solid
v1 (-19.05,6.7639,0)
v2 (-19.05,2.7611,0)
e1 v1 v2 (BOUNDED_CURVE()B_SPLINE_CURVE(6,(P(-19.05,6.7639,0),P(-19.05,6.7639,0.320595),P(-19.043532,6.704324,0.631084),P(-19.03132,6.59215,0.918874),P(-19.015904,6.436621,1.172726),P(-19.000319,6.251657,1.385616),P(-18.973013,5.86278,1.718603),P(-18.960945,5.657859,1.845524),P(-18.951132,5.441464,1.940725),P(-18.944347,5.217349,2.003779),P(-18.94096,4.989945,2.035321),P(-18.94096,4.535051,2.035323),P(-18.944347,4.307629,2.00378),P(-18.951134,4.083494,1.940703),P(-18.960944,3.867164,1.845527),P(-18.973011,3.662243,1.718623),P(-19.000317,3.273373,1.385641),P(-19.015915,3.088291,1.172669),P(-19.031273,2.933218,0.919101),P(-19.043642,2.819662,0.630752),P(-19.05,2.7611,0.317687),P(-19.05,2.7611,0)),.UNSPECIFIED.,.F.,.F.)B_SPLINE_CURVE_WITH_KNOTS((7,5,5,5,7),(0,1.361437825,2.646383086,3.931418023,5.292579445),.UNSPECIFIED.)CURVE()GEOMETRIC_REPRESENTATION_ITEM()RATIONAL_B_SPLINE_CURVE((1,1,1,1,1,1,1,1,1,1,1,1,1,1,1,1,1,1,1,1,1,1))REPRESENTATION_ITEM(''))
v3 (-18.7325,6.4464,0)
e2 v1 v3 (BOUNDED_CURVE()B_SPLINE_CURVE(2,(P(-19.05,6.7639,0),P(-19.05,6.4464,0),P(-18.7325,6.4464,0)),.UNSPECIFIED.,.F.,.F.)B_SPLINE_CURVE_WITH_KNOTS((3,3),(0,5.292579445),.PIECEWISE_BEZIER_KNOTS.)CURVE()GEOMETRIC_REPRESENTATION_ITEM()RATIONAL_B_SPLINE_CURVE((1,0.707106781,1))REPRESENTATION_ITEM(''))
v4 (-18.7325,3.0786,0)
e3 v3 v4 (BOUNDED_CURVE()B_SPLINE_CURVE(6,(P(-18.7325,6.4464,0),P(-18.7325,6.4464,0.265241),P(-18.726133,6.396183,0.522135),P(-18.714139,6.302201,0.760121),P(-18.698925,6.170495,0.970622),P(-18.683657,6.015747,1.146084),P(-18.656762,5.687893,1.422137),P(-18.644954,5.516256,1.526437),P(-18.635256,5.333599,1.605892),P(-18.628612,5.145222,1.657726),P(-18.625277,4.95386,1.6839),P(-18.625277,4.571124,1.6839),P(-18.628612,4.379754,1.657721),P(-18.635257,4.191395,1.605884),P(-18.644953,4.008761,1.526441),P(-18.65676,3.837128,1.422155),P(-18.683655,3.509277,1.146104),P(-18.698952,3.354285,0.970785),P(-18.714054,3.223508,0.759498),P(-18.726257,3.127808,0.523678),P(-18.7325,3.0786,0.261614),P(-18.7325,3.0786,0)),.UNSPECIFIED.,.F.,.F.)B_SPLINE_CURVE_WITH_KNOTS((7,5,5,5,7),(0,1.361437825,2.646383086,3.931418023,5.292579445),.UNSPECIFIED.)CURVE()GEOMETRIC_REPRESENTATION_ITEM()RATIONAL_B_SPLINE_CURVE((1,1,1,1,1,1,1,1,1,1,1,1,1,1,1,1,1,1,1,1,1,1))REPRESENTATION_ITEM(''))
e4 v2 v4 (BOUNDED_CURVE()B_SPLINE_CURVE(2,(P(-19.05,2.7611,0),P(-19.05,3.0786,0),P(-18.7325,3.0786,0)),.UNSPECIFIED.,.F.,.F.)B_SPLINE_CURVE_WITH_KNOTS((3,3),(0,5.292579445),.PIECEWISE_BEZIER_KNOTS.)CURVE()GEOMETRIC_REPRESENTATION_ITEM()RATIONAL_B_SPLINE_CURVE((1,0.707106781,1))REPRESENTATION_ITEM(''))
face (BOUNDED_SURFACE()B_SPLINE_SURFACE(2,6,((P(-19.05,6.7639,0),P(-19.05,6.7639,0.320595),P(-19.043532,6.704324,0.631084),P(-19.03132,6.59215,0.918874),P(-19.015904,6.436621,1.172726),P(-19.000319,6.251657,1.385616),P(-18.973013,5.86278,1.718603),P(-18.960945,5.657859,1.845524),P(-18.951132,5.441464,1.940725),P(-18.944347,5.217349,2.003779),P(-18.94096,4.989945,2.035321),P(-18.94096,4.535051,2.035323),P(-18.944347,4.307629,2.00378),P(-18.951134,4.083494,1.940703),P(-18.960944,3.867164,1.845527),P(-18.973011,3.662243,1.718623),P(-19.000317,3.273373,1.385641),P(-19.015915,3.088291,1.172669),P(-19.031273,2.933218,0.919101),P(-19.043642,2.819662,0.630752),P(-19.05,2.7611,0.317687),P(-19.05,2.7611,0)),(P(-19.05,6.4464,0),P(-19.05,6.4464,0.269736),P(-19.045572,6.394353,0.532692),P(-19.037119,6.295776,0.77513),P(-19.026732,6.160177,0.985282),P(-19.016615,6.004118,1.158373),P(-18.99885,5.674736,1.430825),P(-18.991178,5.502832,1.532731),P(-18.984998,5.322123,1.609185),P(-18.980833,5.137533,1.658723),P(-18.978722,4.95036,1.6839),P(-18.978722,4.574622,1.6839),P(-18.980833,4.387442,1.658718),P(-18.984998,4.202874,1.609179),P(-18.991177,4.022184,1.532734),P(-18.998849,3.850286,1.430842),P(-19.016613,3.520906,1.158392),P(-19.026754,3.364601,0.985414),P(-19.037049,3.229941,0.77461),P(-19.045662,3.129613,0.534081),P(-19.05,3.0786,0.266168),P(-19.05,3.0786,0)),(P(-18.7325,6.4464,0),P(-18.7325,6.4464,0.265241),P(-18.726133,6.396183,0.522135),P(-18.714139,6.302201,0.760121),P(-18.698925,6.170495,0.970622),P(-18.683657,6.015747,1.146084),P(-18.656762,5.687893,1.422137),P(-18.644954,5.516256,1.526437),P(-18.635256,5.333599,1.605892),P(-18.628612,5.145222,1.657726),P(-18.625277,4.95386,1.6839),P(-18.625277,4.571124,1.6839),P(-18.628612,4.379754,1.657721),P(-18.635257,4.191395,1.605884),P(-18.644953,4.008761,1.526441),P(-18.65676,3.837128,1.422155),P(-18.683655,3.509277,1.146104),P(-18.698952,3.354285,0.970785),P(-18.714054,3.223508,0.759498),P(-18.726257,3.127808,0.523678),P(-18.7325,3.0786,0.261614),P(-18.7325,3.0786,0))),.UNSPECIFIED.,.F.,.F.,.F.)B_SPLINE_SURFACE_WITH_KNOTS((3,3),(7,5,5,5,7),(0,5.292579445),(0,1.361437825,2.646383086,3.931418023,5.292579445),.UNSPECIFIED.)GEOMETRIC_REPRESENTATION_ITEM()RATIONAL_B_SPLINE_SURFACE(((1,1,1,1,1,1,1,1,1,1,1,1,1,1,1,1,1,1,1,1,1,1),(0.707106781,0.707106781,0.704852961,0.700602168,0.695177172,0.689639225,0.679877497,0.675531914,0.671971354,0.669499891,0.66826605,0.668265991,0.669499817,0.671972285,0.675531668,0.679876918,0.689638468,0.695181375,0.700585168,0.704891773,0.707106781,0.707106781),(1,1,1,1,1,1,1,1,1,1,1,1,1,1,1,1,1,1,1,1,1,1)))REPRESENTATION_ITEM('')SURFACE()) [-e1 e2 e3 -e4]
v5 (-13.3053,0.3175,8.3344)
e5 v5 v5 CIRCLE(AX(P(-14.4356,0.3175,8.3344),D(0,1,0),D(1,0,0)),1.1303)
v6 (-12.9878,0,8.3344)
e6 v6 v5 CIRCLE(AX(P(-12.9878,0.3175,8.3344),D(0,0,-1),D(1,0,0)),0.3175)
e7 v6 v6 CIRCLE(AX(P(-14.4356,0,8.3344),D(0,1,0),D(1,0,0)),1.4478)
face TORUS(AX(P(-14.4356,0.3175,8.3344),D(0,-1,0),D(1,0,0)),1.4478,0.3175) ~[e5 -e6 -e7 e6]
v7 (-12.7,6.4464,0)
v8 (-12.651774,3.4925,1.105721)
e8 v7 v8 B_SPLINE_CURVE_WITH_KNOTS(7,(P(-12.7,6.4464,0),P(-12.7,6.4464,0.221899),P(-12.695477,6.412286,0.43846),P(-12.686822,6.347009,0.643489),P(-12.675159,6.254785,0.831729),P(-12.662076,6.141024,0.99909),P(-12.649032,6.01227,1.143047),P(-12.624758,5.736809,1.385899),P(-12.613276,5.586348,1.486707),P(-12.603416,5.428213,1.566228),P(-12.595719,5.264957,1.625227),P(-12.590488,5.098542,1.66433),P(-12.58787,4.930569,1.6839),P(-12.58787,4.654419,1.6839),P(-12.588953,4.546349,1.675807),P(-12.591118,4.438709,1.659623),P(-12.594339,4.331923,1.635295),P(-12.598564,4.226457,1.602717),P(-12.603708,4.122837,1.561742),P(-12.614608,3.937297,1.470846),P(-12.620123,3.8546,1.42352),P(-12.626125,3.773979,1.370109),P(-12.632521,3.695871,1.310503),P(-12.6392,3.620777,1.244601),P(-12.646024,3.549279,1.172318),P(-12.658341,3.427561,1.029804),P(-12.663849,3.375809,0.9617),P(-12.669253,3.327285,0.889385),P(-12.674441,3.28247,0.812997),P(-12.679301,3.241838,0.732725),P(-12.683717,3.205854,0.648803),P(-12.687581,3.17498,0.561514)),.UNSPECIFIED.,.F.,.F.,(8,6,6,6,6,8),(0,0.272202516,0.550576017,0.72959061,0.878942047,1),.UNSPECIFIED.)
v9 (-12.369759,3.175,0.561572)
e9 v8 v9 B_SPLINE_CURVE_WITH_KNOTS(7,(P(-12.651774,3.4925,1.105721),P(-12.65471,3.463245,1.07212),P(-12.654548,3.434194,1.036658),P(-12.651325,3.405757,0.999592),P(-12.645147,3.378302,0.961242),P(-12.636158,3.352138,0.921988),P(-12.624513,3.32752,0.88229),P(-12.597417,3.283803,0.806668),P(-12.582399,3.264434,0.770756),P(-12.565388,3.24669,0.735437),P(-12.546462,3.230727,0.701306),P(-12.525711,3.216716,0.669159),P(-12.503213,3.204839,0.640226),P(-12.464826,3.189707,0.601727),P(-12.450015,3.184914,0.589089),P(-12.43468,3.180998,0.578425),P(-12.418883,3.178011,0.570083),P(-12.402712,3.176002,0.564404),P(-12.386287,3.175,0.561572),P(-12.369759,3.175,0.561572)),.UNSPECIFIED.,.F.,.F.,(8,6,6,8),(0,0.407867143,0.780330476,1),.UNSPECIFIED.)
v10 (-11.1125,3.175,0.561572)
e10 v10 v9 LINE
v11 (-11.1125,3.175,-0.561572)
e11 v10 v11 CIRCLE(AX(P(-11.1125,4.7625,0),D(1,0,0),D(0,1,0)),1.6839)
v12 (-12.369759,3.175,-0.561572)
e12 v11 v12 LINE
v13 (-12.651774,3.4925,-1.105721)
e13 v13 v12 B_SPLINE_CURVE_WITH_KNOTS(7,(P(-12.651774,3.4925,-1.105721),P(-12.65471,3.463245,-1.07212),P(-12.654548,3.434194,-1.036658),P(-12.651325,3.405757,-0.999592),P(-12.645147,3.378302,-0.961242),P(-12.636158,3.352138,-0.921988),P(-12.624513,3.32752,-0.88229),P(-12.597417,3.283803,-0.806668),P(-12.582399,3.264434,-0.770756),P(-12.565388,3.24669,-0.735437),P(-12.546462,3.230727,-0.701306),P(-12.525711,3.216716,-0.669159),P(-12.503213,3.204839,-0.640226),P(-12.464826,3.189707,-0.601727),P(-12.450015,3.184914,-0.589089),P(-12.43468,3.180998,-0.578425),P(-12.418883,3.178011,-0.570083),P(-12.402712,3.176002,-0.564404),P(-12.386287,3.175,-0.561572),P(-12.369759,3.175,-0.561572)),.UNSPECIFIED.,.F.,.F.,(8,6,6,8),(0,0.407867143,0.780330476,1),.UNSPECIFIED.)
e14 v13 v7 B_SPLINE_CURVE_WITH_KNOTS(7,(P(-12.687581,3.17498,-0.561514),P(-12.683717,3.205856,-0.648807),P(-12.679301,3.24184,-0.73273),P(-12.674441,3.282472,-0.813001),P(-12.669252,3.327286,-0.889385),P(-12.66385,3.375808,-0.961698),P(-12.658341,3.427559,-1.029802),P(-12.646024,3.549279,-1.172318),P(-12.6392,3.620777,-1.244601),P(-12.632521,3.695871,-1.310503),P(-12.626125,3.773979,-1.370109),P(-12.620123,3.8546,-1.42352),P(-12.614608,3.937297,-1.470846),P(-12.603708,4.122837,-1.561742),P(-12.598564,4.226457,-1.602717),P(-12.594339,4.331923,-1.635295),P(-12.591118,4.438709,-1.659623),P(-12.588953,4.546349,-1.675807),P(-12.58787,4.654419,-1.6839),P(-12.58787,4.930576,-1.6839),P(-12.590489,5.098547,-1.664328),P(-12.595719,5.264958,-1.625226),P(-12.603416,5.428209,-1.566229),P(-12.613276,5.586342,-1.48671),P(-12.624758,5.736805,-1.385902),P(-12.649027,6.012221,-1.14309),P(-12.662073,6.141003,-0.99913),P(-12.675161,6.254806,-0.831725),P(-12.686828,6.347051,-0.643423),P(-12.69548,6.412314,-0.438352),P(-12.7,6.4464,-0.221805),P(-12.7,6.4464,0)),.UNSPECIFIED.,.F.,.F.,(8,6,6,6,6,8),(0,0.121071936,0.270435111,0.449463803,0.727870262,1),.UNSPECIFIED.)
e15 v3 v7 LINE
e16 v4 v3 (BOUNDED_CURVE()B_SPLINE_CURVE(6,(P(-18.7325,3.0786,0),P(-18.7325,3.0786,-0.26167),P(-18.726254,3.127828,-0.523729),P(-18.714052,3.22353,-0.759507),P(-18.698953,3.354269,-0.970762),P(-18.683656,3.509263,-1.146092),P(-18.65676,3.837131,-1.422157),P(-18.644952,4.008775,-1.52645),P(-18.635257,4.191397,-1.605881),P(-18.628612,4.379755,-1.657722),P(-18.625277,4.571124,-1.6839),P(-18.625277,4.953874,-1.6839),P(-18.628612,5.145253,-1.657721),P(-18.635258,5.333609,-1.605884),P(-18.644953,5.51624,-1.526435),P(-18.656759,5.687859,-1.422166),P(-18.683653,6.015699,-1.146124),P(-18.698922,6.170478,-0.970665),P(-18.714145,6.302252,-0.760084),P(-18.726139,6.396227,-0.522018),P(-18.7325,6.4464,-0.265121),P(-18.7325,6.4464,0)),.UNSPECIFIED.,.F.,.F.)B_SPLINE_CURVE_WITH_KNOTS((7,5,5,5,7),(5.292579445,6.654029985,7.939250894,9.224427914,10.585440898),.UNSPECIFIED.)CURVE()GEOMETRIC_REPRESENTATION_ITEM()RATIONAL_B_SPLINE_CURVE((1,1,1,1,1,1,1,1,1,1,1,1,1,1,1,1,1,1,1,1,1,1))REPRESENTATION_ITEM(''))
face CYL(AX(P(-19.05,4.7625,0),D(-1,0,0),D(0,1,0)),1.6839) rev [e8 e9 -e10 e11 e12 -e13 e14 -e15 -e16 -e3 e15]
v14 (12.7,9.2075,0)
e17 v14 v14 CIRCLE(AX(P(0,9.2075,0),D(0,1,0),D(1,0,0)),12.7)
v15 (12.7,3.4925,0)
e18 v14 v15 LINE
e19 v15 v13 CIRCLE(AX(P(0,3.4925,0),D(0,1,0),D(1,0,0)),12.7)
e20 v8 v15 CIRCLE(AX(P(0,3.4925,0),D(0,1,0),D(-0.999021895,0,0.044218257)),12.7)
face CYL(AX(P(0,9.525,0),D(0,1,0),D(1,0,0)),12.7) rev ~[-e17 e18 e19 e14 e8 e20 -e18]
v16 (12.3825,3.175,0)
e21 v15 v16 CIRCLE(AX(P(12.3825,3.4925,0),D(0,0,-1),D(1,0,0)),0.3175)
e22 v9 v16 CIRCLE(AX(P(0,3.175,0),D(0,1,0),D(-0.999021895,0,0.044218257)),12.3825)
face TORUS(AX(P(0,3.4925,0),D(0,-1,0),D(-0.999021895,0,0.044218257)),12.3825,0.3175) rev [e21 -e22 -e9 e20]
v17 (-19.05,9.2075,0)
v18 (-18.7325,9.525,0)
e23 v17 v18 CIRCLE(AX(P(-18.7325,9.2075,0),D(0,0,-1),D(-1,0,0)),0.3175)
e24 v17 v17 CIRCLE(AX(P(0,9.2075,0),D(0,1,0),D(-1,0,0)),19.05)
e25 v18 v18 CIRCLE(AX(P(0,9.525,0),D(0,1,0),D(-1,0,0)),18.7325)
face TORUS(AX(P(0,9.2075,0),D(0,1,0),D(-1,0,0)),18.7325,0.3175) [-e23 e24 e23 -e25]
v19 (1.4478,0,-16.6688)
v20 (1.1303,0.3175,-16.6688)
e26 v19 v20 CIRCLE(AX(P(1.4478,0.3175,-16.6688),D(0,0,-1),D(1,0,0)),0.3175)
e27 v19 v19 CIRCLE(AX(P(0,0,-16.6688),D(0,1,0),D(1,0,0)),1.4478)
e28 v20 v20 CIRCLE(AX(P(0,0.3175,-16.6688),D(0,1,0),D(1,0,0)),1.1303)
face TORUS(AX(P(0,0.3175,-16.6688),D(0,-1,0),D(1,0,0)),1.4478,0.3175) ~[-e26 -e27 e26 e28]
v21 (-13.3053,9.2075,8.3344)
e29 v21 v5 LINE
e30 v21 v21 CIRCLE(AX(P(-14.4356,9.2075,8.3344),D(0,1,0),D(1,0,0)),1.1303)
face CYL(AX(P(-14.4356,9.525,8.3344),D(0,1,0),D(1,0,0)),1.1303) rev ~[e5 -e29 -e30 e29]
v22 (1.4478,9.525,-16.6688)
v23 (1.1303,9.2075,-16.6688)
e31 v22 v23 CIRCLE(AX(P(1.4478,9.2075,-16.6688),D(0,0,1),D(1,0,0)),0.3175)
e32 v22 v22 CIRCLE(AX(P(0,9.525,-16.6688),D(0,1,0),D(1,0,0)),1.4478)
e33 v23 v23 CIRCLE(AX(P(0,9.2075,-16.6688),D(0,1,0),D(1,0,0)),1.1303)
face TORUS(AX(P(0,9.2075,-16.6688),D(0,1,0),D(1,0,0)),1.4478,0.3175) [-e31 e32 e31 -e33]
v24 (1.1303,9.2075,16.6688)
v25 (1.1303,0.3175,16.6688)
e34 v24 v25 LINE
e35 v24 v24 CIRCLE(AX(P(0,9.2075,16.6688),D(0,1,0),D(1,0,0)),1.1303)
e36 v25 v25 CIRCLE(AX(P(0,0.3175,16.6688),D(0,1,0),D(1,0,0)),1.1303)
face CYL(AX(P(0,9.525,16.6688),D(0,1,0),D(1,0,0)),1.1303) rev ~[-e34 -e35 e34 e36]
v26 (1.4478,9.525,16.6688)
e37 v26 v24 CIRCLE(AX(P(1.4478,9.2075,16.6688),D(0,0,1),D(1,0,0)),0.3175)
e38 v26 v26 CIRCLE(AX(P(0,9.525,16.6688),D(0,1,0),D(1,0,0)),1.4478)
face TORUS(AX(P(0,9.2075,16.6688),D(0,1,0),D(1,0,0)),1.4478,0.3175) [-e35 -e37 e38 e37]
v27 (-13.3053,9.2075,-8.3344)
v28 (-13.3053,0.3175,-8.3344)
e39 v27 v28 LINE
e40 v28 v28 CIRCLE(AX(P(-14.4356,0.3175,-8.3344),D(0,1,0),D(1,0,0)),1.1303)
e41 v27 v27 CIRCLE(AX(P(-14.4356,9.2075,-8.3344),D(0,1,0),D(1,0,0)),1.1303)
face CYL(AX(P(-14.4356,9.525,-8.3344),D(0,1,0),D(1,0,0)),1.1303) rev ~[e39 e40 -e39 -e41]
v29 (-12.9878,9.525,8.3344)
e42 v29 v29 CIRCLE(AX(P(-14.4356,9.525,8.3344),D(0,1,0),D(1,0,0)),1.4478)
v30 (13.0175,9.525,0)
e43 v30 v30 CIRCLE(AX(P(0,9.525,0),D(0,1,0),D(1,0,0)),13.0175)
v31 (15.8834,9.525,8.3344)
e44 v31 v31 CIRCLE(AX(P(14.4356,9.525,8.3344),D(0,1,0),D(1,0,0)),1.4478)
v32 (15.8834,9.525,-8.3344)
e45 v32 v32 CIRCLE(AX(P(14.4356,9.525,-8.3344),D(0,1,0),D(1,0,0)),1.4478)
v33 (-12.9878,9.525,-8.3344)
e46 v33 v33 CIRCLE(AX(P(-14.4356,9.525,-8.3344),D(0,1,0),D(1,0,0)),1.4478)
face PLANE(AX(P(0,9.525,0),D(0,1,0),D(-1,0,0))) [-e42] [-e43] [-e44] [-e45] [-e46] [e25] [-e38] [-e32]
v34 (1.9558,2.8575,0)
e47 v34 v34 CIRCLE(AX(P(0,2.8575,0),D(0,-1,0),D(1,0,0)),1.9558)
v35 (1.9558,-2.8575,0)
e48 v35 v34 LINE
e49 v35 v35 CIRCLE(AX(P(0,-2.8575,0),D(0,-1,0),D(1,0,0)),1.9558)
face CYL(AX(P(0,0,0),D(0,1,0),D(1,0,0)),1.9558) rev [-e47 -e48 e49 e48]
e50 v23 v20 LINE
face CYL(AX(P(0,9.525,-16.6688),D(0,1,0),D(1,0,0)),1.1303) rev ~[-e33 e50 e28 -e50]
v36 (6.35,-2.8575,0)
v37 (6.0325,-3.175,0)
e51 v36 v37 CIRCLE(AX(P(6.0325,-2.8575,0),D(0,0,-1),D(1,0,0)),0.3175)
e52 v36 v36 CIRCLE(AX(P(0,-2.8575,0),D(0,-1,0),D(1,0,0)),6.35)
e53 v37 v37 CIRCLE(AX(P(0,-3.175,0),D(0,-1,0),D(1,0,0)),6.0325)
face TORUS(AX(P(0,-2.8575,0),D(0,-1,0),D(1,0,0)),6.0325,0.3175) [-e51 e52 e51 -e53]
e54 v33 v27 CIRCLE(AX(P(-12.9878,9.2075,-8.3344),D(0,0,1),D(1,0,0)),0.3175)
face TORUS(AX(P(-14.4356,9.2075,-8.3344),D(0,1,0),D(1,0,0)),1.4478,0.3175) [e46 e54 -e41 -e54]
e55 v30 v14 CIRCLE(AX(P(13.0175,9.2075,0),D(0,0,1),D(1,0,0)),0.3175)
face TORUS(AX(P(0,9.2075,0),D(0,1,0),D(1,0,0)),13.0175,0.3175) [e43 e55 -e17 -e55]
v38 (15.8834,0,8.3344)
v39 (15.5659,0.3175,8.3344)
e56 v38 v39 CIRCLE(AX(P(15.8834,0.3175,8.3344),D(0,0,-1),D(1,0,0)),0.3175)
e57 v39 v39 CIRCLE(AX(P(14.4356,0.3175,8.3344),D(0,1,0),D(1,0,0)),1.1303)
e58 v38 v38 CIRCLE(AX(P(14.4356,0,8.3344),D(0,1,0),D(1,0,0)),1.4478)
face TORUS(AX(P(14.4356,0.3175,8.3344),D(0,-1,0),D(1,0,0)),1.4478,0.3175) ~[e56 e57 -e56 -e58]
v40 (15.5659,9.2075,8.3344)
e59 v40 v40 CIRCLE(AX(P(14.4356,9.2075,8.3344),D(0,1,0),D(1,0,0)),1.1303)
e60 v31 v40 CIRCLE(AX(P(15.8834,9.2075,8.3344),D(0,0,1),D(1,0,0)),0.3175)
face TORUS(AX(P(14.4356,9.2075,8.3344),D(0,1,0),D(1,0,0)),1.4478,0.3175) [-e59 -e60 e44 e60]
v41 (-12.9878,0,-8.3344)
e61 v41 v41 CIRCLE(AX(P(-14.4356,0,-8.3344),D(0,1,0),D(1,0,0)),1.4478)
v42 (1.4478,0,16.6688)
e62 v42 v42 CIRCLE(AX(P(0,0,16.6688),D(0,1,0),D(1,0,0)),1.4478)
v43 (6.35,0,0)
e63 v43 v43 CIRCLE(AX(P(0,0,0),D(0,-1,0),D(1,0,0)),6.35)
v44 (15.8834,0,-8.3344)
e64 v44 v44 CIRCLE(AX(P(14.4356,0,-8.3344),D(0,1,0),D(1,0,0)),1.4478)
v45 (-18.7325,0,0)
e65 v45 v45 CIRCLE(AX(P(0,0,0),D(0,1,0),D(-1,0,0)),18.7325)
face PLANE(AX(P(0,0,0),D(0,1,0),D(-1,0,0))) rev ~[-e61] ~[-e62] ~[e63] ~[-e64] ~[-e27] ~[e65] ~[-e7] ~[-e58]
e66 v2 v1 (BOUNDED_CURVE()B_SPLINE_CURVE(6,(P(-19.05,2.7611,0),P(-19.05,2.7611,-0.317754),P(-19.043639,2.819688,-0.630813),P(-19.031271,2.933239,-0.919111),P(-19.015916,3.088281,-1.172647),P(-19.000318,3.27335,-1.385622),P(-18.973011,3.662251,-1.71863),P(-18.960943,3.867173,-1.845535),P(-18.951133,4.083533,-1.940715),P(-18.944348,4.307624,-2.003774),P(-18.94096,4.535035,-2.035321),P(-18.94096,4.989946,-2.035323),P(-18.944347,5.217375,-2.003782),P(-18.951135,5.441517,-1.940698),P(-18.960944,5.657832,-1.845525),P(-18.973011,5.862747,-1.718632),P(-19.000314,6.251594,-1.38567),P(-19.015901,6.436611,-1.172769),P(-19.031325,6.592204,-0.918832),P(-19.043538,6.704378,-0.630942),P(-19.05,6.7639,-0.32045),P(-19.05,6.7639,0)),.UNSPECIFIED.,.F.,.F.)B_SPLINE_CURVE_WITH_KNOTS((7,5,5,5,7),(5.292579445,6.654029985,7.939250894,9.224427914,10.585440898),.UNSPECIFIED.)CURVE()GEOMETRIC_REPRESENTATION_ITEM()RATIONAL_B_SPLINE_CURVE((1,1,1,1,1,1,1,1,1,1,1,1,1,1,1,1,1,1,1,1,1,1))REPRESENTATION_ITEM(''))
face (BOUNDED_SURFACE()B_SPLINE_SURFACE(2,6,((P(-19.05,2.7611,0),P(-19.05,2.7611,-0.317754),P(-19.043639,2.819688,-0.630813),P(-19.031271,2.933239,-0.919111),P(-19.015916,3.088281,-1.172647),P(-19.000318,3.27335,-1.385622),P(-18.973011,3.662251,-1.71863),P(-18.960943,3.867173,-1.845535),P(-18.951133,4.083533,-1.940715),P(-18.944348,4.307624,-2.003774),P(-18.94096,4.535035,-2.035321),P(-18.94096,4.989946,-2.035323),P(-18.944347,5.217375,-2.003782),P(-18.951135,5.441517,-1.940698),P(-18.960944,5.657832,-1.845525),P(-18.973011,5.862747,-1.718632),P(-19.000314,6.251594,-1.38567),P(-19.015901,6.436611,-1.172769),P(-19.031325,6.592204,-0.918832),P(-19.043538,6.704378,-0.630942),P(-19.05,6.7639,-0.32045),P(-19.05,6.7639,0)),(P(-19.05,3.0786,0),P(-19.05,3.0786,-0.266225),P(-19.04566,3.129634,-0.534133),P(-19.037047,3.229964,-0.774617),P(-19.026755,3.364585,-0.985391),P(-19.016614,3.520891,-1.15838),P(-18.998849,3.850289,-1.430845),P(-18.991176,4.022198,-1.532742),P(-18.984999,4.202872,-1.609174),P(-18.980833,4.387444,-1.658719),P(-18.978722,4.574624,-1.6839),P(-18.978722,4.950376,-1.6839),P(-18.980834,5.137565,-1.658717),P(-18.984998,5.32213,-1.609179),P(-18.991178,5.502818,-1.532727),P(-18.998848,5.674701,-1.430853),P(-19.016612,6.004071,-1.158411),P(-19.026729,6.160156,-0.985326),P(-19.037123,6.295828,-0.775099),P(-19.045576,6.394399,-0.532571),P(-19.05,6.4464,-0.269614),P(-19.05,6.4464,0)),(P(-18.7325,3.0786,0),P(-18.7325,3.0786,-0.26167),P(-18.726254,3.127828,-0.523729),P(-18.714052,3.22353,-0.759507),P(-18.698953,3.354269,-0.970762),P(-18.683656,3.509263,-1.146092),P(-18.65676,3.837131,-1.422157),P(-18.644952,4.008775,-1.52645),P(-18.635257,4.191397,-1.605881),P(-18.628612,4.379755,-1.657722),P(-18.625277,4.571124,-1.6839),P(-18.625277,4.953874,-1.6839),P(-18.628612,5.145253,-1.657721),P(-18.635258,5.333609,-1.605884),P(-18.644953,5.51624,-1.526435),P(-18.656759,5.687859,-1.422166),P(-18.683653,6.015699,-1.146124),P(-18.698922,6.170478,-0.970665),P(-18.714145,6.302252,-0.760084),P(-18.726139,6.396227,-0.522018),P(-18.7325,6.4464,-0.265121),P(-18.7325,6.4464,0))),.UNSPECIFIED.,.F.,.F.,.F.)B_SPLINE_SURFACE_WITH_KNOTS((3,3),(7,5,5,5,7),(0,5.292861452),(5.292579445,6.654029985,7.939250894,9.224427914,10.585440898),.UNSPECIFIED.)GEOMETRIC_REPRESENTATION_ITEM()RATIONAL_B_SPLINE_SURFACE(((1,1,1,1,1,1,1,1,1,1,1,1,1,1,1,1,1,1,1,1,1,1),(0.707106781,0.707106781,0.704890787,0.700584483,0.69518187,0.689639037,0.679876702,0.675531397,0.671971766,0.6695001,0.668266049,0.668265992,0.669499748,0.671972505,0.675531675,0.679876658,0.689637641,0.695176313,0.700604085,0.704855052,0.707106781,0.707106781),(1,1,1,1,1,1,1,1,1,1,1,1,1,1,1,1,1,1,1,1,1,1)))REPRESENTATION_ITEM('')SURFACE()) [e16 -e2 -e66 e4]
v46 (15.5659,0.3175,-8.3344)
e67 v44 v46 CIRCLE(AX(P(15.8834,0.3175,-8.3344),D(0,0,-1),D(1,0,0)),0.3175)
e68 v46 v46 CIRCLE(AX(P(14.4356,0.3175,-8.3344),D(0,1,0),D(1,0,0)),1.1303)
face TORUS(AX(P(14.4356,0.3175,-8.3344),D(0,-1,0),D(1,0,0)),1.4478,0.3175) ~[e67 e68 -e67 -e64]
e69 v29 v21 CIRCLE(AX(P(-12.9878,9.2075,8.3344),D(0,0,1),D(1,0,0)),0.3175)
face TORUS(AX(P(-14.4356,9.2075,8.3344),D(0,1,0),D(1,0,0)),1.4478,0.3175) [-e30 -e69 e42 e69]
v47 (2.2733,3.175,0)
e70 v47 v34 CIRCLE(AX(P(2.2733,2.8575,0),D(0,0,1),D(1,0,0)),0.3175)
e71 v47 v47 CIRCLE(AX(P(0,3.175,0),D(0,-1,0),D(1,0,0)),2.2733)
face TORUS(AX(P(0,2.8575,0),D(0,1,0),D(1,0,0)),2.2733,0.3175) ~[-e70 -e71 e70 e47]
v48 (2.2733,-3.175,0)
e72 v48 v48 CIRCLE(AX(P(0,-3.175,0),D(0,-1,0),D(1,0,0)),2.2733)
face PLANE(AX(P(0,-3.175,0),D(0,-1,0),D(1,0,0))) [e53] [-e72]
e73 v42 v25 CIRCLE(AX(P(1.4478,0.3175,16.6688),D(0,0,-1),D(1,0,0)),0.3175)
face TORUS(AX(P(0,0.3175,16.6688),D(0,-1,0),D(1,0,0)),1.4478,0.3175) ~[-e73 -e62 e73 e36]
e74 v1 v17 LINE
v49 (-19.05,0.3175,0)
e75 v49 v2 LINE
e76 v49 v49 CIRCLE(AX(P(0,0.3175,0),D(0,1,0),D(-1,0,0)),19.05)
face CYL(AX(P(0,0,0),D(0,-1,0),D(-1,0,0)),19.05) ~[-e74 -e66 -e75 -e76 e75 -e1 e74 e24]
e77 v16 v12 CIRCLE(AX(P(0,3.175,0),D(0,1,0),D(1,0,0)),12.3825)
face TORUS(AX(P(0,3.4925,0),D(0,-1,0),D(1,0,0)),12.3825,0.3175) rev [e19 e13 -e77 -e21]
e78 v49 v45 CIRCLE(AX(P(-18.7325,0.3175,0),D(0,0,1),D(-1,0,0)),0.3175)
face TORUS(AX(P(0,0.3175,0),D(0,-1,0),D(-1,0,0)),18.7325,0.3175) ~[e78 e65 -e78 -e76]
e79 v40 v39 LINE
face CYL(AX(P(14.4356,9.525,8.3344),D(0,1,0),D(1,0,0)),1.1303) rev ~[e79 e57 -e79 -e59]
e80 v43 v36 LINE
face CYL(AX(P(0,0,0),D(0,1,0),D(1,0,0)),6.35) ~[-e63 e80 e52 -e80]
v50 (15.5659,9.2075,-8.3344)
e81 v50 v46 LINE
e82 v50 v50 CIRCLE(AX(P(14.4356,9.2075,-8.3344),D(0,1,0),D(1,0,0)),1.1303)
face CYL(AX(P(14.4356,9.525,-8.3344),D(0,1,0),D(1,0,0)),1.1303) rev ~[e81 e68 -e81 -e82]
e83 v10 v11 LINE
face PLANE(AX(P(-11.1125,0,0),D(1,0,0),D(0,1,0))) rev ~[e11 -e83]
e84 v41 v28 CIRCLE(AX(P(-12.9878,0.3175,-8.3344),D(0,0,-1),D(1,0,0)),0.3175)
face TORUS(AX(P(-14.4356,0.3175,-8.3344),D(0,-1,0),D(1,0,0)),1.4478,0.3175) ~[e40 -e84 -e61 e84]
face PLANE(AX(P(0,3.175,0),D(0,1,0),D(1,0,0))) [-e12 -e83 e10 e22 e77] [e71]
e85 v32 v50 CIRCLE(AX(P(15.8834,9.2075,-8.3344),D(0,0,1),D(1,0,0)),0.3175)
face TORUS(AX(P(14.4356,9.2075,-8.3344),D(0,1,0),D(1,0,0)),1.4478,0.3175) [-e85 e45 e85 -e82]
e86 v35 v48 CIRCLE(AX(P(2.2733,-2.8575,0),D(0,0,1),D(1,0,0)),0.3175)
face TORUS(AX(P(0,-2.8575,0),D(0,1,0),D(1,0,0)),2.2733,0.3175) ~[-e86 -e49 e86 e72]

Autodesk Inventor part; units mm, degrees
ref_plane "XZ Plane" through (0, 0, 0) normal (0, 1, 0) x (-1, 0, 0)
ref_plane "XY Plane" through (0, 0, 0) normal (0, 0, 1) x (1, 0, 0)
sketch "Sketch1" plane through (0, 0, 0) normal (0, 1, 0) x (-1, 0, 0)
  circle A0 centre (0, 0) radius 19.05
  dimension "d0" = 38.1
extrude "Extrusion1" add sketch "Sketch1" along normal blind 9.525
sketch "Sketch2" plane through (0, 9.525, 0) normal (0, 1, 0) x (1, 0, 0)
  circle A0 centre (0, 0) radius 12.7
  dimension "d3" = 25.4
extrude "Extrusion2" cut sketch "Sketch2" against normal blind 6.35
sketch "Sketch3" plane through (0, 3.175, 0) normal (0, 1, 0) x (1, 0, 0)
  point P0 (0, 0)
sketch "Sketch4" plane through (0, 0, 0) normal (0, -1, 0) x (1, 0, 0)
  circle A0 centre (0, 0) radius 1.9558
  circle A1 centre (0, 0) radius 6.35
  dimension "d6" = 3.9116
  dimension "d7" = 12.7
extrude "Extrusion3" add sketch "Sketch4" along normal blind 3.175
extrude "Extrusion4" cut sketch "Sketch4" against normal blind 3.175 contours A0
sketch "Sketch5" plane through (0, 9.525, 0) normal (0, 1, 0) x (1, 0, 0)
  circle A0 centre (0, -16.6688) radius 1.1303
  circle A1 centre (0, 16.6688) radius 1.1303
  circle A2 centre (-14.4356, 8.3344) radius 1.1303
  circle A3 centre (-14.4356, -8.3344) radius 1.1303
  circle A4 centre (0, -16.6688) radius 1.1303
  circle A5 centre (14.4356, -8.3344) radius 1.1303
  circle A6 centre (14.4356, 8.3344) radius 1.1303
  point P0 (0, 0)
  dimension "d12" = 2.2606
  dimension "d13" = 2.2606
  dimension "d14" = 33.3375
  dimension "d15" = 16.6687
  dimension "d18" = 360
extrude "Extrusion5" cut sketch "Sketch5" against normal through all
ref_plane "Work Plane1" through (-19.05, 0, 0) normal (1, 0, 0) x (0, 1, 0)
sketch "Sketch6" plane through (-19.05, 0, 0) normal (1, 0, 0) x (0, 1, 0)
  circle A0 centre (4.7625, 0) radius 1.6839
  line L0 (9.525, -19.05) -> (9.525, 19.05) projected
  line L1 (0, 19.05) -> (0, -19.05) projected
  line L2 (9.525, -19.05) -> (0, -19.05)
  point P0 (0, 0)
  point P1 (4.7625, -19.05)
extrude "Extrusion6" cut sketch "Sketch6" along normal blind 7.9375
thread "Thread1" size "6-32 UNC" class "2B" standard "ANSI Unified Screw Threads" length 5.08 offset 5.08
fillet "Fillet1" radius 0.3175 19 edges at (19.05, 0, 0) (19.05, 9.525, 0) (0.2809, 3.175, 12.6969) (0.2809, 3.175, -12.6969) (-12.7, 9.525, 0) (-18.9754, 4.7626, 1.6839) (-18.9754, 4.7623, -1.6839) (-15.5659, 9.525, 8.3344) (-1.1303, 9.525, 16.6688) (13.3053, 9.525, 8.3344) (13.3053, 9.525, -8.3344) (-1.1303, 9.525, -16.6688) (-15.5659, 9.525, -8.3344) (-6.35, -3.175, 0) (-1.9558, -3.175, 0) (-15.5659, 0, 8.3344) (-1.1303, 0, -16.6688) (-15.5659, 0, -8.3344) (-1.1303, 0, 16.6688)
fillet "Fillet2" radius 0.3175 3 edges at (13.3053, 0, 8.3344) (13.3053, 0, -8.3344) (-1.9558, 3.175, 0)
properties part number "valvehousing" material "Gold"
